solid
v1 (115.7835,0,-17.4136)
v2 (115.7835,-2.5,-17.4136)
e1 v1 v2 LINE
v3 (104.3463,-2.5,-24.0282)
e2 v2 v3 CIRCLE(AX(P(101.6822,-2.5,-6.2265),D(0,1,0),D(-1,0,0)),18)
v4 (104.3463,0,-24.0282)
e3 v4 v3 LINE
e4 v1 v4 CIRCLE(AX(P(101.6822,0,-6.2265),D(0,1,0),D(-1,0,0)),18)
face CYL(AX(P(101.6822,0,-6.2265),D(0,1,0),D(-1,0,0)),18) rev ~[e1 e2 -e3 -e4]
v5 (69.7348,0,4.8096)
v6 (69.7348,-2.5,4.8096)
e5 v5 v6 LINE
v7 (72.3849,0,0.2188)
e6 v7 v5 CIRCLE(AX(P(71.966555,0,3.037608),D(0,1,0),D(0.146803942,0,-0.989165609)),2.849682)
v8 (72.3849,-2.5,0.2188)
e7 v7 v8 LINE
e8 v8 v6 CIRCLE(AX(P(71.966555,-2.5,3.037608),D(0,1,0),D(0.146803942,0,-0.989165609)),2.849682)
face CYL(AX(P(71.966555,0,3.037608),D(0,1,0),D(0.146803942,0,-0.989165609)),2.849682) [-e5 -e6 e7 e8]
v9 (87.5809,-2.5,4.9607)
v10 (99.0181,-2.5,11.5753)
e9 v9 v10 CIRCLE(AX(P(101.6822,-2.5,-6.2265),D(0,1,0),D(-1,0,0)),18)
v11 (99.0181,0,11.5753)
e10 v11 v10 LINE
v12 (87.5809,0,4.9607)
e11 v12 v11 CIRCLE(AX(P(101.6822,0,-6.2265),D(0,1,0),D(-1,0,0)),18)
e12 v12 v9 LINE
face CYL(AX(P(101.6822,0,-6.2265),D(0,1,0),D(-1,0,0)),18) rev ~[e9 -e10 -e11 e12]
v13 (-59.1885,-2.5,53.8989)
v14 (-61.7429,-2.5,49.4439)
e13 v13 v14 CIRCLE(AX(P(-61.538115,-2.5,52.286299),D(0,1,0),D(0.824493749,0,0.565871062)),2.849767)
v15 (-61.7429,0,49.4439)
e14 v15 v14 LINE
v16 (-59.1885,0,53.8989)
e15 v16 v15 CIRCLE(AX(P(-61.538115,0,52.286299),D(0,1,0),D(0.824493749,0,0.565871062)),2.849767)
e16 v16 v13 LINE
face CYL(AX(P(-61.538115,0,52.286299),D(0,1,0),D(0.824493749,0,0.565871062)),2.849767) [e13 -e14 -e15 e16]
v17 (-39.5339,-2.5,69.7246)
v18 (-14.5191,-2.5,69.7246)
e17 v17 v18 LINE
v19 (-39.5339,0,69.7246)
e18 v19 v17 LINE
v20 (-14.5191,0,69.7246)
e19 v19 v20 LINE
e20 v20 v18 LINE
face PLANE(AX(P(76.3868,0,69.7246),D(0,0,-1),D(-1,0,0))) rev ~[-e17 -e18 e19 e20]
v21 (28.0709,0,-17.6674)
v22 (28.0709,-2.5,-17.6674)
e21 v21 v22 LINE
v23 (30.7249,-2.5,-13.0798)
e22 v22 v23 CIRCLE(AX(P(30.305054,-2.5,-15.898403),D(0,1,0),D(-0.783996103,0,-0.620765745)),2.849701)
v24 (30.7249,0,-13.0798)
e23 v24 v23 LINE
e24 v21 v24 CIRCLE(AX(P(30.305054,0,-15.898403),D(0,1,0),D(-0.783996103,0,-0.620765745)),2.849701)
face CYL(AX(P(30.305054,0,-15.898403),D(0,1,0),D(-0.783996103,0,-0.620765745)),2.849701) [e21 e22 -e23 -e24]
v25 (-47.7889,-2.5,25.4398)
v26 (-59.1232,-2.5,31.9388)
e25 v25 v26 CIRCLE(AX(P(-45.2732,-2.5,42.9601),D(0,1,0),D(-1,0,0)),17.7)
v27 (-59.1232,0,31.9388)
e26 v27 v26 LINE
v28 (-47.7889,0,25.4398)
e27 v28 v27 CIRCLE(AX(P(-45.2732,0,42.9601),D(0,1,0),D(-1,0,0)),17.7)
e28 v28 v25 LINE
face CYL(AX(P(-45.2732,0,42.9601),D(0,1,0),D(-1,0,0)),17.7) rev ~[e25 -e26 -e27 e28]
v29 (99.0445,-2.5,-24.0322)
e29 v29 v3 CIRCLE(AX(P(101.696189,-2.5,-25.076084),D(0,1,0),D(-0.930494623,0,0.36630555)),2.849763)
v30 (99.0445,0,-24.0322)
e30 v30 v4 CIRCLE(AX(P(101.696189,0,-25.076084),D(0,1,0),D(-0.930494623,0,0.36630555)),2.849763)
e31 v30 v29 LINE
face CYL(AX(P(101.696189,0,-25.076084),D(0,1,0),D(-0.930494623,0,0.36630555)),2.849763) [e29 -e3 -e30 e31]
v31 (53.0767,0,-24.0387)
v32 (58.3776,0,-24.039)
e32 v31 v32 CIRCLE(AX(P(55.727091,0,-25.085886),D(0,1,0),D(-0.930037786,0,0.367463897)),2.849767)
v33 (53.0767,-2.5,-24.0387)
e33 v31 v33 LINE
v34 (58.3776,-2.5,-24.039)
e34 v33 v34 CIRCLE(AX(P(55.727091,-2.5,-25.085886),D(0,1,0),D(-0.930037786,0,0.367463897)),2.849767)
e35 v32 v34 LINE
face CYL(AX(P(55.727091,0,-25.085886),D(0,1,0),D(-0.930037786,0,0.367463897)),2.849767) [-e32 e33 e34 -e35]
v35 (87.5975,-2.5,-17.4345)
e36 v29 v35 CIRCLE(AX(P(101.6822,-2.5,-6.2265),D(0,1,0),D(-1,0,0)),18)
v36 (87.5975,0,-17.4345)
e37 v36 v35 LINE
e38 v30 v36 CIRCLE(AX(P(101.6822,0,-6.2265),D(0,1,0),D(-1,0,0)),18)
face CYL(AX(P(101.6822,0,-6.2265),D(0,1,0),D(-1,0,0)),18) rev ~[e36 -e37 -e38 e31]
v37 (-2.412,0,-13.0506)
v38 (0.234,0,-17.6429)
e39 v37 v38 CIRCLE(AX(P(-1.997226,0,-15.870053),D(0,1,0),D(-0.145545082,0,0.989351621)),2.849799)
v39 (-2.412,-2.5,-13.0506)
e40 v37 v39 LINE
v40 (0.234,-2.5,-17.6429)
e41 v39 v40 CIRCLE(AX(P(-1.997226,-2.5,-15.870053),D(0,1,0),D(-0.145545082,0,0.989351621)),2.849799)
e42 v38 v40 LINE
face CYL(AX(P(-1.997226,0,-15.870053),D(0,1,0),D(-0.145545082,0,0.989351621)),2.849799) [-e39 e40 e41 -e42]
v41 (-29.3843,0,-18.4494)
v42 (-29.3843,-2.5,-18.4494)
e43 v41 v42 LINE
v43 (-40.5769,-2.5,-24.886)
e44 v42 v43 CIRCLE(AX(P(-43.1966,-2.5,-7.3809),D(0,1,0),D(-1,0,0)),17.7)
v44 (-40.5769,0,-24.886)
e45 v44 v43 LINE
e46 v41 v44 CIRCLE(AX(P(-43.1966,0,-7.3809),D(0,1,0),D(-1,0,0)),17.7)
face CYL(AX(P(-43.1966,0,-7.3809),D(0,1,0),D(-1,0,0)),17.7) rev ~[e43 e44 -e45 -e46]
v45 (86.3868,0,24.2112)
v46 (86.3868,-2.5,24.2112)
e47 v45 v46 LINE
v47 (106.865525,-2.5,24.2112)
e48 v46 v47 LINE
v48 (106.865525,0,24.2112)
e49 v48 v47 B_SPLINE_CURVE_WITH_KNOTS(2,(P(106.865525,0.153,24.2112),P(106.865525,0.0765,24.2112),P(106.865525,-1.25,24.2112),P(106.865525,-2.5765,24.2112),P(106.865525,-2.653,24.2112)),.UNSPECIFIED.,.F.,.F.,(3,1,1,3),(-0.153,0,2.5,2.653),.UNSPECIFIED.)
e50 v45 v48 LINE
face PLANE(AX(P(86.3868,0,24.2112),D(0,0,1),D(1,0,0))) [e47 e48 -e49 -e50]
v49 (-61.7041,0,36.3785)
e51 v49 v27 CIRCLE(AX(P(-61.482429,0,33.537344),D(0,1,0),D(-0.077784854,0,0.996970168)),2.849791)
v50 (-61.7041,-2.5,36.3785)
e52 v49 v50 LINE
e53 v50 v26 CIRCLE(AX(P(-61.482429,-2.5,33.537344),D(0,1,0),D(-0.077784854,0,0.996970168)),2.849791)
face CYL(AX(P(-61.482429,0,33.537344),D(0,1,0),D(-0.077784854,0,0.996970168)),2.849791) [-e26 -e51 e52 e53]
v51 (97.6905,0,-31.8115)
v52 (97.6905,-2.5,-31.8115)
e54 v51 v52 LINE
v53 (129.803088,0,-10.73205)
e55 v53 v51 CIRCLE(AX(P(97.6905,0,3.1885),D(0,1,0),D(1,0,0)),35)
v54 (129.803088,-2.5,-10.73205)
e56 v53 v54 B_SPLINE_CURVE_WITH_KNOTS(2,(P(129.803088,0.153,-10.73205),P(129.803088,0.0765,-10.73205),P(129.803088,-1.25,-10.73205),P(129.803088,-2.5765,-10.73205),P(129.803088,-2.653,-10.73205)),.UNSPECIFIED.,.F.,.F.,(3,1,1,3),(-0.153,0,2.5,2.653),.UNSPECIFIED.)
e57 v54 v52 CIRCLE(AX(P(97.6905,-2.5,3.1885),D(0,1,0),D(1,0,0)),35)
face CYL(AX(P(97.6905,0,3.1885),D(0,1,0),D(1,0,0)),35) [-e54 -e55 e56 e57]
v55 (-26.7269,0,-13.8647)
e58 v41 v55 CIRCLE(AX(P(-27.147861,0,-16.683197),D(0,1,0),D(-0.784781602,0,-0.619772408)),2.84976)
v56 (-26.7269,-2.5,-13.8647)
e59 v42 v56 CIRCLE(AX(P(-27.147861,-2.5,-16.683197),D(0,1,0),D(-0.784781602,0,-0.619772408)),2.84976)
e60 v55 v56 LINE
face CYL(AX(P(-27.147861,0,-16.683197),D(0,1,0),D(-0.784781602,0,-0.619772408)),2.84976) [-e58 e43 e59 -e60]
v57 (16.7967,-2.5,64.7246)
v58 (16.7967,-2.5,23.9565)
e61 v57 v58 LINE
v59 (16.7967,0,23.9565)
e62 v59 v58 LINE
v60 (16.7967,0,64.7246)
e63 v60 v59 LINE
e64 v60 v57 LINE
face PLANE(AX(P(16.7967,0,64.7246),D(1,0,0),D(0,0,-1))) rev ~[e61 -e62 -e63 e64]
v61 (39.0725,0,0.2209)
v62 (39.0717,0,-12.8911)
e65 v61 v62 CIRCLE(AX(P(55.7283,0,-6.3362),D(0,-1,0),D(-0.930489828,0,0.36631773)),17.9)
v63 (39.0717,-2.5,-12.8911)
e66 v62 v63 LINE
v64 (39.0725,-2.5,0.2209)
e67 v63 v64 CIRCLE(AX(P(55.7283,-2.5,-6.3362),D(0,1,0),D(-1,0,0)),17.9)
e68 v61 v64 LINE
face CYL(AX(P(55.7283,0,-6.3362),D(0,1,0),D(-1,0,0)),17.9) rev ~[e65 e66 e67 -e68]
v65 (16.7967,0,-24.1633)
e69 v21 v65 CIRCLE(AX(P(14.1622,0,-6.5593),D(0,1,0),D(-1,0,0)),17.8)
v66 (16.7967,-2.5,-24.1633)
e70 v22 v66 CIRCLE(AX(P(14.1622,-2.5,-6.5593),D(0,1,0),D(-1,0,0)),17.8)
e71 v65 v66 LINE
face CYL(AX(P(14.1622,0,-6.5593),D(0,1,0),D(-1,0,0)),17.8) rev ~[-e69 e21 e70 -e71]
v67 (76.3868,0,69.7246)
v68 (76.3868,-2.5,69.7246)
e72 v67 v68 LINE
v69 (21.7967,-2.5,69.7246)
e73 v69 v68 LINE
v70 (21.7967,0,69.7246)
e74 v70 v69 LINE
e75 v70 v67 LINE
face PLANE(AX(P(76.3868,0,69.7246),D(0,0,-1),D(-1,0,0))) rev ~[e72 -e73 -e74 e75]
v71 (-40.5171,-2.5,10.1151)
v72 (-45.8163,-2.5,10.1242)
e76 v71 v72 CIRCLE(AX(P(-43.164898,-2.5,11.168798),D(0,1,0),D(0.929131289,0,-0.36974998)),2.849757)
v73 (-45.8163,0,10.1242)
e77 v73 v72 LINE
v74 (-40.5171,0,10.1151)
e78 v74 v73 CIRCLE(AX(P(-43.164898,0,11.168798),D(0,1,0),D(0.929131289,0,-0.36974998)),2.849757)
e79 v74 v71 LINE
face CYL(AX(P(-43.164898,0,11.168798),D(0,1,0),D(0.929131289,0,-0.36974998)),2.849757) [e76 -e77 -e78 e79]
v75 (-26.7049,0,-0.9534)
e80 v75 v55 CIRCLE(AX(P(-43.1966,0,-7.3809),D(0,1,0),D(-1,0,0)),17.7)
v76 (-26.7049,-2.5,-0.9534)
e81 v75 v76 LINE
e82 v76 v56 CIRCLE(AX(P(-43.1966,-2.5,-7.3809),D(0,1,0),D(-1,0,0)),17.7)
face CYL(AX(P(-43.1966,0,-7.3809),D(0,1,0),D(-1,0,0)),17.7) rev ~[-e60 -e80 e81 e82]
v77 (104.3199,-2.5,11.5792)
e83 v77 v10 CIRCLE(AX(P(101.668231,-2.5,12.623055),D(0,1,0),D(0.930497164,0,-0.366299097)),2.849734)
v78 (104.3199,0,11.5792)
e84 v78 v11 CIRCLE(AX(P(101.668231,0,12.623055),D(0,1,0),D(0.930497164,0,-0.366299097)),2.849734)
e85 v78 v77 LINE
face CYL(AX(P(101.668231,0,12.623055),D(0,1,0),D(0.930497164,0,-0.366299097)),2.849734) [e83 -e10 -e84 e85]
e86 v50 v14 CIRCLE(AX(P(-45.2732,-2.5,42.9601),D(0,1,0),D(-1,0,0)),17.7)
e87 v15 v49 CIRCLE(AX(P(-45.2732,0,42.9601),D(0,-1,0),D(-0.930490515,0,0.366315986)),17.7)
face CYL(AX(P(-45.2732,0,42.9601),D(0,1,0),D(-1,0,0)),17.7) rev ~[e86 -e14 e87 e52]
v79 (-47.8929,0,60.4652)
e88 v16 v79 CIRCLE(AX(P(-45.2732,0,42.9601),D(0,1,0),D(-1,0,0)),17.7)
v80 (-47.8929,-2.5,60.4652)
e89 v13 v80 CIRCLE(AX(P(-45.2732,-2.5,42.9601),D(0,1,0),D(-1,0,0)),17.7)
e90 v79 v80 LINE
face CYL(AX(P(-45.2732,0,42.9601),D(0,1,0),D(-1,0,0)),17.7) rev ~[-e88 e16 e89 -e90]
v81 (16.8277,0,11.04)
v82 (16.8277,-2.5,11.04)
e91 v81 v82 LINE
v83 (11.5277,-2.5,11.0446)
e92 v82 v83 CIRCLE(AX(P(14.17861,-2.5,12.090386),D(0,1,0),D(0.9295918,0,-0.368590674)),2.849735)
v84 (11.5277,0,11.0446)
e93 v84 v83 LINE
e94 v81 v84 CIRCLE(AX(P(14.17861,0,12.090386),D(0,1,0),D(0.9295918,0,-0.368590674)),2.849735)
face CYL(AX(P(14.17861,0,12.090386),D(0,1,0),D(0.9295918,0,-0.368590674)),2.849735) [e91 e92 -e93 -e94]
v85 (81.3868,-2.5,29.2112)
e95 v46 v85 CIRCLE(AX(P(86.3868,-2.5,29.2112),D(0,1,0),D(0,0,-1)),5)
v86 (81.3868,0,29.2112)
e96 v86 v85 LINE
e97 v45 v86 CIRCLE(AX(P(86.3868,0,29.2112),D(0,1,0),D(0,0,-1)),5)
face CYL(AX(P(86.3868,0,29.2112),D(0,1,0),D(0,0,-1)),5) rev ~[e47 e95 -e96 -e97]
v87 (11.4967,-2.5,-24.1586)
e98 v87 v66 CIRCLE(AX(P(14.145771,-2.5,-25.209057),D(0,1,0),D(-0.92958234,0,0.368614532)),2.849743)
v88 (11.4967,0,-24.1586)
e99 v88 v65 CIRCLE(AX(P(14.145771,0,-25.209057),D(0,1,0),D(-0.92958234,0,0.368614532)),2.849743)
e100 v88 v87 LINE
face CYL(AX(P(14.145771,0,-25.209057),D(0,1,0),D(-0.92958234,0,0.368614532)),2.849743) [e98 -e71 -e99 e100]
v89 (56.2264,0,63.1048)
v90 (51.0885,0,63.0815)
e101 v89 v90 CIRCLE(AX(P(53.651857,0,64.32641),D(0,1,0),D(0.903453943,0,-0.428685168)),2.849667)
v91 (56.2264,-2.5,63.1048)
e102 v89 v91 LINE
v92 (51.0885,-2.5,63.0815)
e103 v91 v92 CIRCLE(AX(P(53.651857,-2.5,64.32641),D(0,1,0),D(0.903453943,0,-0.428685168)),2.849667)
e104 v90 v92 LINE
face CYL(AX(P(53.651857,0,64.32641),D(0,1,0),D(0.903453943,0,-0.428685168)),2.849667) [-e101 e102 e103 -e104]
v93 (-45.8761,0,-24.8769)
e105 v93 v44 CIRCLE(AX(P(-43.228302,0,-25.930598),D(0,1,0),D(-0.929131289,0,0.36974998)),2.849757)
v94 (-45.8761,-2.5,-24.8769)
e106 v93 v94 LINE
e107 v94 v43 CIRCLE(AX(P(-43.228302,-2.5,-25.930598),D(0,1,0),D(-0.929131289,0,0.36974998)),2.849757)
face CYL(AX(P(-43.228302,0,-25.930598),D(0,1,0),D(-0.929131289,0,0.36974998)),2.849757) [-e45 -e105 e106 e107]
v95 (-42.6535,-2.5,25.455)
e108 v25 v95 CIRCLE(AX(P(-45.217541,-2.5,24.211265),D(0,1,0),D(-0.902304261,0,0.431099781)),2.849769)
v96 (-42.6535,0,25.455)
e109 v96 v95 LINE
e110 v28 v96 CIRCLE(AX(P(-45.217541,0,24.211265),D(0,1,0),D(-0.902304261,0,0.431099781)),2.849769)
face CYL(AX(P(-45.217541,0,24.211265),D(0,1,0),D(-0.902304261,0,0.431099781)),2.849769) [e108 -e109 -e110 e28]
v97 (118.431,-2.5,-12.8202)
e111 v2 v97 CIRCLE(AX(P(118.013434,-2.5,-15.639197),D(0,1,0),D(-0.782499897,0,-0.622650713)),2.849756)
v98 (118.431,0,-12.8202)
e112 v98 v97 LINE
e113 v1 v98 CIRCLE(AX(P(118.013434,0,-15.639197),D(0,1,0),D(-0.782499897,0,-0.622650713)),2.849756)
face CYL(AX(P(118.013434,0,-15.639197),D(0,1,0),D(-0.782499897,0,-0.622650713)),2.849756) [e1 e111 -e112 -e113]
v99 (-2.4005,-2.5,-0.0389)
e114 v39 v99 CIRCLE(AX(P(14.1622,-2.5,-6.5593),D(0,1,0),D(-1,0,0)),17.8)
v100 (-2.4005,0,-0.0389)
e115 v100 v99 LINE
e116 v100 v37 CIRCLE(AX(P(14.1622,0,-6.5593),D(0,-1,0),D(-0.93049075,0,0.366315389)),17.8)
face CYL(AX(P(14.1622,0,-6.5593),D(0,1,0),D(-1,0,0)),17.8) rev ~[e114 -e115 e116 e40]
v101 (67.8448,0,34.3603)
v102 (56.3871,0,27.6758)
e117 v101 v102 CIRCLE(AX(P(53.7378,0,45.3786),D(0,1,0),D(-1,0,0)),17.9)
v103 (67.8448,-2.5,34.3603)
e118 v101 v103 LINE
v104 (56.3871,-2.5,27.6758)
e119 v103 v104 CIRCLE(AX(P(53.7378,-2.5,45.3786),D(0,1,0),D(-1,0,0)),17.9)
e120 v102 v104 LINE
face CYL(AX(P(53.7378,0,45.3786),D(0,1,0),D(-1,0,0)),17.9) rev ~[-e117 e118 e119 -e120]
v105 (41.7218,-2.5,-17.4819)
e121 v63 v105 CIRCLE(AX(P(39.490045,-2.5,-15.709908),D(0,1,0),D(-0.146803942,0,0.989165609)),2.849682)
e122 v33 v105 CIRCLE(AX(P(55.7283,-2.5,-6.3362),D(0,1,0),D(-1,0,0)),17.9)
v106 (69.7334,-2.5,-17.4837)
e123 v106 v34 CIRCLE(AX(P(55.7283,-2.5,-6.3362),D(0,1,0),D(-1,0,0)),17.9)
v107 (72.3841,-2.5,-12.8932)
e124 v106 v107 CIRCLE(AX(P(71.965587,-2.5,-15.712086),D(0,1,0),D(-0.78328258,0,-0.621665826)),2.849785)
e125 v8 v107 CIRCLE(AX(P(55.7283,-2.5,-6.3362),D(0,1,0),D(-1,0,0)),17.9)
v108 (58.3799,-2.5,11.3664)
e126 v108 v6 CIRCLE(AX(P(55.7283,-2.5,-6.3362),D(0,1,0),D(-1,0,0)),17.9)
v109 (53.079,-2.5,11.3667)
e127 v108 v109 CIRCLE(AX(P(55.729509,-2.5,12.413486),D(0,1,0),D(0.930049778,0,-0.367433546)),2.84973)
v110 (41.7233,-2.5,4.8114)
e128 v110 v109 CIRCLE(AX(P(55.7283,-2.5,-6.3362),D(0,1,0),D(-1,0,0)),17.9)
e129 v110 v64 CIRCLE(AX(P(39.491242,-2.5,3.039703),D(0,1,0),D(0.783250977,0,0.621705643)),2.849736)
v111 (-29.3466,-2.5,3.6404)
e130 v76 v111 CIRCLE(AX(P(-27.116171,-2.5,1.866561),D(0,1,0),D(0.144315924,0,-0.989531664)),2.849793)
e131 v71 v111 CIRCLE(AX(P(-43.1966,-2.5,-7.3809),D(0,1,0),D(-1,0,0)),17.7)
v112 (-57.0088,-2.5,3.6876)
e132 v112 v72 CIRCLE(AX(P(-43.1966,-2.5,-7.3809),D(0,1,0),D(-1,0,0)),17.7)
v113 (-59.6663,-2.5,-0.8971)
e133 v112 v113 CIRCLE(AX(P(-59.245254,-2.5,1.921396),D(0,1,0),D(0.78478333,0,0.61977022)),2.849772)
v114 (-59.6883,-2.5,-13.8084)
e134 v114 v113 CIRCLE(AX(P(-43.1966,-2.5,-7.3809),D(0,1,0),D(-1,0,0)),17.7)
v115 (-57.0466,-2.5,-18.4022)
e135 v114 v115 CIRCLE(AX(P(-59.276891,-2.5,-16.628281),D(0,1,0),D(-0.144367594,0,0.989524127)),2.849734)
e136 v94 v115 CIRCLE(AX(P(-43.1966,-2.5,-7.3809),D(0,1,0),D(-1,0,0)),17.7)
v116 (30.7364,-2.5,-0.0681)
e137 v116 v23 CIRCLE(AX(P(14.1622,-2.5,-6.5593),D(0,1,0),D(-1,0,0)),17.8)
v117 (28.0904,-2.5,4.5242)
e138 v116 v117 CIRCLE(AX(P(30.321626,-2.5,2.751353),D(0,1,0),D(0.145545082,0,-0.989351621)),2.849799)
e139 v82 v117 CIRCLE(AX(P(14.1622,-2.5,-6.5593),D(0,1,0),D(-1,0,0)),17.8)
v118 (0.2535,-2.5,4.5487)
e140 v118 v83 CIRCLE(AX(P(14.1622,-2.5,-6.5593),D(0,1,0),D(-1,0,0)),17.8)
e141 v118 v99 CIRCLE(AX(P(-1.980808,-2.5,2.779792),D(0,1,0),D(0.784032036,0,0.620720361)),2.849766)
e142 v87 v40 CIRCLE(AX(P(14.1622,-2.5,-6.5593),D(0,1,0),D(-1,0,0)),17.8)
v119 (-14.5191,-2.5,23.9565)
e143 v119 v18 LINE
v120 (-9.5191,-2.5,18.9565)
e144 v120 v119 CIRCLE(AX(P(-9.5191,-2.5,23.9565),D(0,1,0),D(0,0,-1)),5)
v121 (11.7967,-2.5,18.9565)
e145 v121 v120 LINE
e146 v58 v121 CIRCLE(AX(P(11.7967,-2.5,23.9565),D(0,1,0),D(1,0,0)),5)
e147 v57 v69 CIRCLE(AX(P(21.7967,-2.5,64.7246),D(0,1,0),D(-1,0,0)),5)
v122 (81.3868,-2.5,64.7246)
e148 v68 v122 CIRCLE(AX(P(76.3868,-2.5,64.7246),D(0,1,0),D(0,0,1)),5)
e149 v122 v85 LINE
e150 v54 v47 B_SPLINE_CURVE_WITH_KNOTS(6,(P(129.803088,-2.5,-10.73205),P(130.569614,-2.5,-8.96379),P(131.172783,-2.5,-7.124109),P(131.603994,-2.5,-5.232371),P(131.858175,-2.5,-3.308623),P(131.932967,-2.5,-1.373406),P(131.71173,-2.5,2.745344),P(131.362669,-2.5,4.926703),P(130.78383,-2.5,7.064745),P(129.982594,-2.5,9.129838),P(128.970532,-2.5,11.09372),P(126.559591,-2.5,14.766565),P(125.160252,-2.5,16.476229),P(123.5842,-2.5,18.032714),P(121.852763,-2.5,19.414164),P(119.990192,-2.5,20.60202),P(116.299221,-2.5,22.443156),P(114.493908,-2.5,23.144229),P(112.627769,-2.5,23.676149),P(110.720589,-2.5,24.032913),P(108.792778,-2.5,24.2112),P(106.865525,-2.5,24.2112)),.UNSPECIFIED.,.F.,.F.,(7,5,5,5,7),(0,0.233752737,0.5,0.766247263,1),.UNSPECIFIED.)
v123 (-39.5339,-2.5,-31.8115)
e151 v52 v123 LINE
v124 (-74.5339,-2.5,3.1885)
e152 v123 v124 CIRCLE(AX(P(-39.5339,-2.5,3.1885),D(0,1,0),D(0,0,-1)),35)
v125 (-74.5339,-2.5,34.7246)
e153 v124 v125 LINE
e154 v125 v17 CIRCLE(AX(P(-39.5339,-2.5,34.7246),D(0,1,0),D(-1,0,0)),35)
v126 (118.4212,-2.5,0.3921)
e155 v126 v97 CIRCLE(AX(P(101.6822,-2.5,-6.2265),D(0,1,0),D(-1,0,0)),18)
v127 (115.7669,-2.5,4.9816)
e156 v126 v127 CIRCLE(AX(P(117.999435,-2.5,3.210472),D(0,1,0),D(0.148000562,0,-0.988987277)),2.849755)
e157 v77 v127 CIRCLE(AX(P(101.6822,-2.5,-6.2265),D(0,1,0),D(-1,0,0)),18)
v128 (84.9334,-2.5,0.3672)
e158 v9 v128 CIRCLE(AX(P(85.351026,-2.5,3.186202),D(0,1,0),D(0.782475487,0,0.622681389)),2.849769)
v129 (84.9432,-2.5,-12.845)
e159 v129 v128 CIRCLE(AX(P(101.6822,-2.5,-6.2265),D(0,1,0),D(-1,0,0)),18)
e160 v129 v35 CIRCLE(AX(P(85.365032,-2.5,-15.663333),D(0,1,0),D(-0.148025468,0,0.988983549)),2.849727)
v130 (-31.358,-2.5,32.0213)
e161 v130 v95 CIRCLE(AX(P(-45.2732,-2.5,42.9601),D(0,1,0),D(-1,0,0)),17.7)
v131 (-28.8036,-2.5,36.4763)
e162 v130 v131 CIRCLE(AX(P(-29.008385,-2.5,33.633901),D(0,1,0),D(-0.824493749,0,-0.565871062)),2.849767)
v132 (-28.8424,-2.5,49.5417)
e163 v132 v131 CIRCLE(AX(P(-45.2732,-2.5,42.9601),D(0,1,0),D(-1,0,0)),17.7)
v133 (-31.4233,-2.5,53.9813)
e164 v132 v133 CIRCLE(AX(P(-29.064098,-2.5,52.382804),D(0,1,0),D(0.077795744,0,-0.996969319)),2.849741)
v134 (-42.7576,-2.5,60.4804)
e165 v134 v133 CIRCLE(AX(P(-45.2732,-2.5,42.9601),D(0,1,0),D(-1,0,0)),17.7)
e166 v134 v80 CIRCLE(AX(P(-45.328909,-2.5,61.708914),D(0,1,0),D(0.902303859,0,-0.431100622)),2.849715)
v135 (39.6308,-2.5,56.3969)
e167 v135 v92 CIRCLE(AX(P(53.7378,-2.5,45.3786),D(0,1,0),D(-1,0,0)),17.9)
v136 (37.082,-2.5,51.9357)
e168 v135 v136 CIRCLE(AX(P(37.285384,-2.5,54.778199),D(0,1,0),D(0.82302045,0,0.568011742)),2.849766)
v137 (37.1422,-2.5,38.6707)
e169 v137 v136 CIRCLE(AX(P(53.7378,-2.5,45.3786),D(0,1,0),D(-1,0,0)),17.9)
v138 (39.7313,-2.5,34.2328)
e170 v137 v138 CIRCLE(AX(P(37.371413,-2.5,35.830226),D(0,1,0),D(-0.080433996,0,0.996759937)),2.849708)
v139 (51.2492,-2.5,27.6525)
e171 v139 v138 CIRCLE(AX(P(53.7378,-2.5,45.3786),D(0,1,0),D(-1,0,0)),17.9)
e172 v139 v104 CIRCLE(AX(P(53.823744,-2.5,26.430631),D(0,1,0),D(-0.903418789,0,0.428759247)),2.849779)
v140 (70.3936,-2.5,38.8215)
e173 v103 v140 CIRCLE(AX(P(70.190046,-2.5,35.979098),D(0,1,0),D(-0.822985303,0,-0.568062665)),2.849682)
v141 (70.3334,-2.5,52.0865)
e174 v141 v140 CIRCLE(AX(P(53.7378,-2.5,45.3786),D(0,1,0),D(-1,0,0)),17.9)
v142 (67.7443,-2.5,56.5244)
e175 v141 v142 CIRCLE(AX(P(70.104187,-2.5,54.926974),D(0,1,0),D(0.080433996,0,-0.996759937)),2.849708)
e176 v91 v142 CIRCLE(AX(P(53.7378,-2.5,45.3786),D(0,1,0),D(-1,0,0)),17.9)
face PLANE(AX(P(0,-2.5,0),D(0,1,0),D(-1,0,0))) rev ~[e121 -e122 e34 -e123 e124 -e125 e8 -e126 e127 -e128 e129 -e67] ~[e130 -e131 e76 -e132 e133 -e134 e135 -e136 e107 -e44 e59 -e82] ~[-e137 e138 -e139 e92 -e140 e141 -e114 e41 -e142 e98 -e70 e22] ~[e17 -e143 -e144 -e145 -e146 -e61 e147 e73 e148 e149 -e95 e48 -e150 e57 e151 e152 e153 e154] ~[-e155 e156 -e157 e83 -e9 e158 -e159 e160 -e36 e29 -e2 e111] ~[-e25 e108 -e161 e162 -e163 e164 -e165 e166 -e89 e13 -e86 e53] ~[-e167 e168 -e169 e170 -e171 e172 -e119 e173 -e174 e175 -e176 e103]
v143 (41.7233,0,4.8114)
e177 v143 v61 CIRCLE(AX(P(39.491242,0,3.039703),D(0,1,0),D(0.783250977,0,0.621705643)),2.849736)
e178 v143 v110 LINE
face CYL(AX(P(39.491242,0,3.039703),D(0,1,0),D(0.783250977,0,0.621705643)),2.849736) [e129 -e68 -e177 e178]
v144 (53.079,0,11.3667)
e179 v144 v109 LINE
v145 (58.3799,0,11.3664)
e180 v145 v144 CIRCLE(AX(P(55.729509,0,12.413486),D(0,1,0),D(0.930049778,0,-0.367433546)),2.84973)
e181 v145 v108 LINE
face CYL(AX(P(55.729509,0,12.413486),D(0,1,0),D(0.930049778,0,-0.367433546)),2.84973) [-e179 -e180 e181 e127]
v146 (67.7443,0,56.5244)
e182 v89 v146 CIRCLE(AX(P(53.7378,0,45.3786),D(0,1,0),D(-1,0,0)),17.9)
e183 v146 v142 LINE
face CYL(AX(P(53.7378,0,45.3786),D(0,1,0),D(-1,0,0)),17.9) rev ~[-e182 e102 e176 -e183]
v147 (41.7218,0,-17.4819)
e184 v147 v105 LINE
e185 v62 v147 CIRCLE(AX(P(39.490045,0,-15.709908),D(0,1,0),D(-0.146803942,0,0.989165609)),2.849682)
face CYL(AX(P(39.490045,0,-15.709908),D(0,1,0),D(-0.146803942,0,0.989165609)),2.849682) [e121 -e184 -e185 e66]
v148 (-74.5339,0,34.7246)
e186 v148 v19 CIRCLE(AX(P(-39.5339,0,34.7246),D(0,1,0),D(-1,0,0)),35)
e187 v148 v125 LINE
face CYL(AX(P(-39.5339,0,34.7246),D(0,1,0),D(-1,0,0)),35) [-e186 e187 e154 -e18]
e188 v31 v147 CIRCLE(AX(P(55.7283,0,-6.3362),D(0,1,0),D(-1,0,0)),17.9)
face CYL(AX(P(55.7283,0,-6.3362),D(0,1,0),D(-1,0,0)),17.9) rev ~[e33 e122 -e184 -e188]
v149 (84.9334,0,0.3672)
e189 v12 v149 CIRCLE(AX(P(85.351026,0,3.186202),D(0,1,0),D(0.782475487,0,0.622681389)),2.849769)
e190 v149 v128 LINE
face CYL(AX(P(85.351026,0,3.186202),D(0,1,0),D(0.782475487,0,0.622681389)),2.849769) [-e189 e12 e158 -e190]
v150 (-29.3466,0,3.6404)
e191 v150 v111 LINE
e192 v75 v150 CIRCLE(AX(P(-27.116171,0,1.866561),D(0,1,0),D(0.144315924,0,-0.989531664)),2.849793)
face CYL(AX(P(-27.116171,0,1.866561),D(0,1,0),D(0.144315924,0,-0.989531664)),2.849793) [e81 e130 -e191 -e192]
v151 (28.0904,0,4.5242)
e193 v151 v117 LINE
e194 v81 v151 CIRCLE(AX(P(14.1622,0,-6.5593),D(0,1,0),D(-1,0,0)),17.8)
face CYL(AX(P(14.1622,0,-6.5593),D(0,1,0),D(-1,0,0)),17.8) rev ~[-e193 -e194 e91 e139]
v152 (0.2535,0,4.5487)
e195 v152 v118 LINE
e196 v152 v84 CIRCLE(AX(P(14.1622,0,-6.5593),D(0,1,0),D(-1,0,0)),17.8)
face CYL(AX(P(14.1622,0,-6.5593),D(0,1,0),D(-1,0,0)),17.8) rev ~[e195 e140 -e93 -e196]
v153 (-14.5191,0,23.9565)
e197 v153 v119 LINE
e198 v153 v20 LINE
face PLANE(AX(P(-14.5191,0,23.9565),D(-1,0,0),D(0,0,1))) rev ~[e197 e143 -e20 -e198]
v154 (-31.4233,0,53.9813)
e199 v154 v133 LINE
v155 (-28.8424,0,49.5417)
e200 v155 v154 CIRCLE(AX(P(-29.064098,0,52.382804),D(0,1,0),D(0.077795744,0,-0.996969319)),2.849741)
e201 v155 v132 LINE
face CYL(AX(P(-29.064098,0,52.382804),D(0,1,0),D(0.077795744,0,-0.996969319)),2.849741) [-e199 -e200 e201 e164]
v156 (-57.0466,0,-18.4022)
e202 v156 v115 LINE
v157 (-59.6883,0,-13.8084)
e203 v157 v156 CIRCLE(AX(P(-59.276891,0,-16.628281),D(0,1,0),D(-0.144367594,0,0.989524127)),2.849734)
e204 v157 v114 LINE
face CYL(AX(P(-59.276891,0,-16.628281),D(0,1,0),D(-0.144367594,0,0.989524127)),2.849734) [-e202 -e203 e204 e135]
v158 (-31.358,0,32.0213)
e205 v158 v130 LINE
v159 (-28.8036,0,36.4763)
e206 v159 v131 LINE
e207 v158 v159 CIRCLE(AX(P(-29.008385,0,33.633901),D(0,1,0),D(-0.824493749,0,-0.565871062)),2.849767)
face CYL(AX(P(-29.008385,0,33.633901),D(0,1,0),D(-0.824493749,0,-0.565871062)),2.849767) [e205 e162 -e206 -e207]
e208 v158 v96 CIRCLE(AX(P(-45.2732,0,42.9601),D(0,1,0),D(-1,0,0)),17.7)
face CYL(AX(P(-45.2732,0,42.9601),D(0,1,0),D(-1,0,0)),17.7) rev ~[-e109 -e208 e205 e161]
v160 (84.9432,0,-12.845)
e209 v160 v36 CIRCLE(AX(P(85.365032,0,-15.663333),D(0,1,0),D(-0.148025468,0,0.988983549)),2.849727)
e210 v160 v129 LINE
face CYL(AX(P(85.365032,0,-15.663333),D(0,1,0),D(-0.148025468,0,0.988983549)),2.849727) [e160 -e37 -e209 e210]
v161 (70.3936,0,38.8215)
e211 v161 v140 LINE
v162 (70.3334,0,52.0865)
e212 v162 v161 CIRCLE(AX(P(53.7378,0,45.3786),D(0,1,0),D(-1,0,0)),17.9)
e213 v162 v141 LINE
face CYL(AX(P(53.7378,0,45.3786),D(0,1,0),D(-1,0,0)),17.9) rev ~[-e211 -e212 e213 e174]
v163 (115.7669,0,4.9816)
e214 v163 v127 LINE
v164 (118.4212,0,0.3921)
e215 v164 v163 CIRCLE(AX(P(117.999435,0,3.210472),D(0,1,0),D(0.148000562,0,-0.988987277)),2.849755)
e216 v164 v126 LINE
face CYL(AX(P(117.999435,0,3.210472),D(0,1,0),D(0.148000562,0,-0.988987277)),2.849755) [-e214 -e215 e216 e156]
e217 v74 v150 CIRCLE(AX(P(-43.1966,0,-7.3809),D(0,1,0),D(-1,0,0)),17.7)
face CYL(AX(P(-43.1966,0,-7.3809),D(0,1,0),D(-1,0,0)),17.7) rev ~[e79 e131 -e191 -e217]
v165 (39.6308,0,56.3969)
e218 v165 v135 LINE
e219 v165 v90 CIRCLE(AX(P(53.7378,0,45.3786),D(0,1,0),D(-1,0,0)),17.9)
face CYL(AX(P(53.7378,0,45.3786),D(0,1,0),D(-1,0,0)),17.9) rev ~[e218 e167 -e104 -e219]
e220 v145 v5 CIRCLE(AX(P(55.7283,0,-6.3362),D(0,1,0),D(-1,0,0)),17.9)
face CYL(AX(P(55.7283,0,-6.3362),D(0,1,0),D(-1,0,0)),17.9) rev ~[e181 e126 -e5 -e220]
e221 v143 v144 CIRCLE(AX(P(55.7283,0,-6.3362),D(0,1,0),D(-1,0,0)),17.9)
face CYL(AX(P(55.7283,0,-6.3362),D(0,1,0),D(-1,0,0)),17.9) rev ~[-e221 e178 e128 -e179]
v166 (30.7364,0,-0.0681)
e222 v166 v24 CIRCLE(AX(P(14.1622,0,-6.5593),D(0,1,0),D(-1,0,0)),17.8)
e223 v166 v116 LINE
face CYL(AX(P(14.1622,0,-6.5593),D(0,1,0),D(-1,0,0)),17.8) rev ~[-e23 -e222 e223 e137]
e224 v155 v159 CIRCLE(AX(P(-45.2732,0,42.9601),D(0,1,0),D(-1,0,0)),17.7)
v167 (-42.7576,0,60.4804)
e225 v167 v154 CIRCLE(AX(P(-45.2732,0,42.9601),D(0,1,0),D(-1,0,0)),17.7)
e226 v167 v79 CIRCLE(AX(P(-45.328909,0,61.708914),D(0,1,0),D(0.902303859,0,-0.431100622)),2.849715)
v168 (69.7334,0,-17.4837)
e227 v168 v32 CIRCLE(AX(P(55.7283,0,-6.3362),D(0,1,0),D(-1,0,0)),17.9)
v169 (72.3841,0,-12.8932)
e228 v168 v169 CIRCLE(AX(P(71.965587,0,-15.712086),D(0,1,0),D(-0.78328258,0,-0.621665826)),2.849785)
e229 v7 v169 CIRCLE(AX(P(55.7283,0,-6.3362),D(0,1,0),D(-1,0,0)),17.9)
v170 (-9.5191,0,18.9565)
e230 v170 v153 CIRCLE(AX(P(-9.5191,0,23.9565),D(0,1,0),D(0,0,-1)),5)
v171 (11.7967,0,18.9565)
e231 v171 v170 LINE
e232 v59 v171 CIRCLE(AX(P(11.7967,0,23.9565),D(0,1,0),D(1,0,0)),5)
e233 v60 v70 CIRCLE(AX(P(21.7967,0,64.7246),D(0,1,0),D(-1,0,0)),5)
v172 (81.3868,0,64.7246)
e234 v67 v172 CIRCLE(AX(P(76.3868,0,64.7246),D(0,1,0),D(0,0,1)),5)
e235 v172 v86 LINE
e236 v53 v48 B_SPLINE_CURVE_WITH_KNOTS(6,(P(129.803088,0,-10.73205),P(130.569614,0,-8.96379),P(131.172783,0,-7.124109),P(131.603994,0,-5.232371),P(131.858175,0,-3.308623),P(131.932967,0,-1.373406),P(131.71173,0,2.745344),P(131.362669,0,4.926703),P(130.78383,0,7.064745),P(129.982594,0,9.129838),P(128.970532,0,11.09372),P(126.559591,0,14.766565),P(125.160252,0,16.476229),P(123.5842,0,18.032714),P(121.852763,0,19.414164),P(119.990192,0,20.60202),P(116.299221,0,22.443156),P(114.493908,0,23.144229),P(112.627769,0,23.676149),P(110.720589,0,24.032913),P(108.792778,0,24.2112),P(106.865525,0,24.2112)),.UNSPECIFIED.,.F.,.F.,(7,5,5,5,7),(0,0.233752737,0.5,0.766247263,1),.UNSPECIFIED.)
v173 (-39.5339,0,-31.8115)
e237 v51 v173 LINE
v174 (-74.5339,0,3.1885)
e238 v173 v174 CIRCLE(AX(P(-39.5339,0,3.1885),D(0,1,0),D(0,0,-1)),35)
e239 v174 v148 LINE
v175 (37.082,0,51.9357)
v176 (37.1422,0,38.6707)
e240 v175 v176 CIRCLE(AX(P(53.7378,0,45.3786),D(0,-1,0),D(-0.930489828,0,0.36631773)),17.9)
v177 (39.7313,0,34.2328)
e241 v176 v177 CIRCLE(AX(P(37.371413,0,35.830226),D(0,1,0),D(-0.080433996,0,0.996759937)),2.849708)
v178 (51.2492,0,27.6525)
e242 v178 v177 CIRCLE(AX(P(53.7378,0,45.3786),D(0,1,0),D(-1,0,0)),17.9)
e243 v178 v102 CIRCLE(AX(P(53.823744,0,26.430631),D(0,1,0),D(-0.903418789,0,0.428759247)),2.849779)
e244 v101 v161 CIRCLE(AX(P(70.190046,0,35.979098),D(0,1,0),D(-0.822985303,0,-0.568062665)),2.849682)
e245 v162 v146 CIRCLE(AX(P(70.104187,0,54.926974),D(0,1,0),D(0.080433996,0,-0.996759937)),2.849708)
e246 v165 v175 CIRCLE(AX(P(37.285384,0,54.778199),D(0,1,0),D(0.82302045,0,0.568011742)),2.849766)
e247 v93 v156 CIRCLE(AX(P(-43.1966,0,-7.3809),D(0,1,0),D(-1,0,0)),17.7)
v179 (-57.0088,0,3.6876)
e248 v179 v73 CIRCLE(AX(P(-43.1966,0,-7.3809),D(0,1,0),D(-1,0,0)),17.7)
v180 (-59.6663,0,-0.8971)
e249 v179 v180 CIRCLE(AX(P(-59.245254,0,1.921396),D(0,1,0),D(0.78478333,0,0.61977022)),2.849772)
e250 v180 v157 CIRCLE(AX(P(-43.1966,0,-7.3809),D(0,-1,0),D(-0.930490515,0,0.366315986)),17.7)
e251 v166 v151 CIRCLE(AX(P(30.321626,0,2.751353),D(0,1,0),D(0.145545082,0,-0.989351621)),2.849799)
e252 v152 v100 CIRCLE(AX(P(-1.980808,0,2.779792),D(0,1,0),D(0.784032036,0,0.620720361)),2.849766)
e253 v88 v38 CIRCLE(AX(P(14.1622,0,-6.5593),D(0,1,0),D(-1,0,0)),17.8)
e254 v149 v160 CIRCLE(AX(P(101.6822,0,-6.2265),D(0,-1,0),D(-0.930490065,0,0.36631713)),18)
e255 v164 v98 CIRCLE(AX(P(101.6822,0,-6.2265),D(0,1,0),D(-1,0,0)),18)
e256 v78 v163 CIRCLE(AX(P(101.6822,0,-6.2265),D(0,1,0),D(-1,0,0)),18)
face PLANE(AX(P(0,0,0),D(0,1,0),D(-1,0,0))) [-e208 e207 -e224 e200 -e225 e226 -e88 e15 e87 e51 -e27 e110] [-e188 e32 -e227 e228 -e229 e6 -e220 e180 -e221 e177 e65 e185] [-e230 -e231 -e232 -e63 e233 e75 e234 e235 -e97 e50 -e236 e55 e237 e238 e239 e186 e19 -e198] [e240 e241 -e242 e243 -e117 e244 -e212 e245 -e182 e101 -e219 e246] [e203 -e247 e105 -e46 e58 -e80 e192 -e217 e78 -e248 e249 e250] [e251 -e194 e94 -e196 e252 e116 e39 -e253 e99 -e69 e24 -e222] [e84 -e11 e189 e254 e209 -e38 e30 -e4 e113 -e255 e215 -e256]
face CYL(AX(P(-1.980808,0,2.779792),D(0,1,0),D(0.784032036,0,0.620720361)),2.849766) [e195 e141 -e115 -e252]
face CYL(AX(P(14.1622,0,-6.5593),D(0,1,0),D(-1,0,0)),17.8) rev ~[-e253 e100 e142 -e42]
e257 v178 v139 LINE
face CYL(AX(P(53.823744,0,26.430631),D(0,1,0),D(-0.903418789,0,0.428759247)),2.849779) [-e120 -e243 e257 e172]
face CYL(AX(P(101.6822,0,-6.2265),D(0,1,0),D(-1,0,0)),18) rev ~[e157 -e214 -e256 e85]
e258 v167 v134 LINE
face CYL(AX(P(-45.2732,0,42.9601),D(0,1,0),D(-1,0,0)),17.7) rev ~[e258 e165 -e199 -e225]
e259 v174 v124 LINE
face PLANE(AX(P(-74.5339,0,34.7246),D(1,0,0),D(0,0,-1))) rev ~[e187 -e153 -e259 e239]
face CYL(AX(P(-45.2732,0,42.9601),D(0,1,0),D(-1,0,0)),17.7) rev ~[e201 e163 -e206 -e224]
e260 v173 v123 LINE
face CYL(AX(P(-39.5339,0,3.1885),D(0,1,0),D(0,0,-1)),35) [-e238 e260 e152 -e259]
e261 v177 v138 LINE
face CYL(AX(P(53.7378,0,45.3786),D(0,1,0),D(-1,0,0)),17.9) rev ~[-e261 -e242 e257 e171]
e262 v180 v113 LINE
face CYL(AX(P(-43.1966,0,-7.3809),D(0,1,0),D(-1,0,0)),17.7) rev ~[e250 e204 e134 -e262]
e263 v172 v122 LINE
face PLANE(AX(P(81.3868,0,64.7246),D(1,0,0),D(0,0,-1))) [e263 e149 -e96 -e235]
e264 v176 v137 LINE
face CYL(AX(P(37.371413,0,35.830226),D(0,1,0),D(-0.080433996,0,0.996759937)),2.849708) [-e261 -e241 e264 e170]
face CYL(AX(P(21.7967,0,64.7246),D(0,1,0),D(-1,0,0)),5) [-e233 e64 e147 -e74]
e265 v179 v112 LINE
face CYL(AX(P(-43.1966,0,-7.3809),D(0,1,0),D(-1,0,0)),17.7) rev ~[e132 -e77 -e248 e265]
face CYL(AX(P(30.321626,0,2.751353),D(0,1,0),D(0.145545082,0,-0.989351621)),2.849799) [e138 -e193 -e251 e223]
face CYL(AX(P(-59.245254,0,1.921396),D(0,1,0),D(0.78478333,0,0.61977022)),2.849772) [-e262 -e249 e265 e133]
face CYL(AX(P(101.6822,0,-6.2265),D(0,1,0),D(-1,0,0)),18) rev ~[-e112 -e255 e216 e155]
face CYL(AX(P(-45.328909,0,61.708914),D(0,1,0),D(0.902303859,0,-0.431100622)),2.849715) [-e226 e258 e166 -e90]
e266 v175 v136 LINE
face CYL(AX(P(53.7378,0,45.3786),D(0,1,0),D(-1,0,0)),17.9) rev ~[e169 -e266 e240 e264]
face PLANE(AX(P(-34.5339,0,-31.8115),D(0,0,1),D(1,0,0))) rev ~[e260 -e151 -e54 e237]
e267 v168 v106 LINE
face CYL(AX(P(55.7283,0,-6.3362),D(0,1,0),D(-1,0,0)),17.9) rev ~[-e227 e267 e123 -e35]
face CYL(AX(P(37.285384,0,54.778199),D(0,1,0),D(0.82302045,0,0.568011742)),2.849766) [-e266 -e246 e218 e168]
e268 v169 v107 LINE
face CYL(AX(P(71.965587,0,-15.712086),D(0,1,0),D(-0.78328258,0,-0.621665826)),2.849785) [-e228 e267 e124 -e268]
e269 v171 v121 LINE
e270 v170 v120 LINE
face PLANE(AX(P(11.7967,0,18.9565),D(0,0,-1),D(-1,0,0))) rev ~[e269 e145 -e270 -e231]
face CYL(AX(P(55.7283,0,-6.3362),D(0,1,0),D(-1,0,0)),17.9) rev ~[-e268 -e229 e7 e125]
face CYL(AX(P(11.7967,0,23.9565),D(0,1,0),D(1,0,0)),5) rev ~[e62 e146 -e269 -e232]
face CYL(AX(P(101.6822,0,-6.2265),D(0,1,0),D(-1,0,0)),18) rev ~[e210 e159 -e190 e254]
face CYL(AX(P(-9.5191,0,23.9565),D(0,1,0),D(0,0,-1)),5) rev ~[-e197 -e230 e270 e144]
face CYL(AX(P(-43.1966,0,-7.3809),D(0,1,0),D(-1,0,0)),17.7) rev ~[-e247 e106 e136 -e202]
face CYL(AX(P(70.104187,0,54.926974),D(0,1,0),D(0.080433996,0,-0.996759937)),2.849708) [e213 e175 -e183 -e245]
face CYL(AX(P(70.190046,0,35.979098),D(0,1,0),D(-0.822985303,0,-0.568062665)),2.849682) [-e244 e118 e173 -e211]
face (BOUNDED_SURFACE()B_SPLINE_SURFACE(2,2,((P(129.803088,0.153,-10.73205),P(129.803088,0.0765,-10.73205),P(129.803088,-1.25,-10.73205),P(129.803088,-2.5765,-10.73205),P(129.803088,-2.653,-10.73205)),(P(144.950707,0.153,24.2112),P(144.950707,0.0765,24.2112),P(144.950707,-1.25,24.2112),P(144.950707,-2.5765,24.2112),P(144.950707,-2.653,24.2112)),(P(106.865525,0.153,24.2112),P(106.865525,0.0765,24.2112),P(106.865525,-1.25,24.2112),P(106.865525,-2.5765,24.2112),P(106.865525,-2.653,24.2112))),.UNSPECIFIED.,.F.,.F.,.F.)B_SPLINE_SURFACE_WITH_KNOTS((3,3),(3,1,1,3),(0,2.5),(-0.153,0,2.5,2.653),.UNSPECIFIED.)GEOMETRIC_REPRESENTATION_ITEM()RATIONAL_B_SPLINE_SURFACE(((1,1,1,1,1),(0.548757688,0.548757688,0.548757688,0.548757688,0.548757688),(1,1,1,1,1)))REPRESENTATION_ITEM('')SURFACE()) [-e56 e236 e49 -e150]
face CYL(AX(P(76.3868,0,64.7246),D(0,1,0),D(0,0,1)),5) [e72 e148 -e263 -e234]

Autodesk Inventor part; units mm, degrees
ref_plane "YZ Plane" through (0, 0, 0) normal (1, 0, 0) x (0, 1, 0)
ref_plane "XZ Plane" through (0, 0, 0) normal (0, 1, 0) x (-1, 0, 0)
ref_plane "XY Plane" through (0, 0, 0) normal (0, 0, 1) x (1, 0, 0)
sketch "BASEsc" plane through (0, 0, 0) normal (0, 1, 0) x (-1, 0, 0)
  arc A0 (-30.7364, -0.0681) -> (-28.0904, 4.5242) centre (-30.3216, 2.7513) ccw
  arc A1 (-16.8277, 11.04) -> (-11.5277, 11.0446) centre (-14.1786, 12.0904) ccw
  arc A2 (-11.4967, -24.1586) -> (-16.7967, -24.1633) centre (-14.1458, -25.2091) ccw
  arc A3 (-0.2535, 4.5487) -> (2.4005, -0.0389) centre (1.9807, 2.7798) ccw
  arc A4 (-28.0709, -17.6674) -> (-30.7249, -13.0798) centre (-30.3051, -15.8984) ccw
  circle A5 centre (-14.1622, -6.5593) radius 17.8
  arc A6 (2.412, -13.0506) -> (-0.234, -17.6429) centre (1.9972, -15.87) ccw
  circle A7 centre (-55.7283, -6.3362) radius 17.9
  arc A8 (-58.3938, 11.2631) -> (-53.0938, 11.2678) centre (-55.7447, 12.3136) ccw
  arc A9 (-41.8196, 4.7719) -> (-39.1656, 0.1843) centre (-39.5854, 3.0029) ccw
  arc A10 (-72.3025, 0.1551) -> (-69.6565, 4.7474) centre (-71.8877, 2.9745) ccw
  arc A11 (-69.637, -17.4442) -> (-72.291, -12.8566) centre (-71.8712, -15.6753) ccw
  arc A12 (-53.0767, -24.0387) -> (-58.3776, -24.039) centre (-55.7271, -25.0859) ccw
  arc A13 (-39.1541, -12.8274) -> (-41.8001, -17.4197) centre (-39.569, -15.6468) ccw
  circle A14 centre (-101.6822, -6.2265) radius 18
  arc A15 (-99.0445, -24.0322) -> (-104.3463, -24.0282) centre (-101.6962, -25.0761) ccw
  arc A16 (-39.0717, -12.8911) -> (-41.7218, -17.4819) centre (-39.49, -15.71) ccw
  arc A17 (-41.7233, 4.8114) -> (-39.0725, 0.2209) centre (-39.4912, 3.0397) ccw
  arc A18 (-58.3799, 11.3664) -> (-53.079, 11.3667) centre (-55.7295, 12.4135) ccw
  arc A19 (-72.3849, 0.2188) -> (-69.7348, 4.8096) centre (-71.9666, 3.0377) ccw
  arc A20 (-69.7334, -17.4837) -> (-72.3841, -12.8932) centre (-71.9654, -15.7121) ccw
  circle A21 centre (43.1966, -7.3809) radius 17.7
  arc A22 (45.8761, -24.8769) -> (40.5769, -24.886) centre (43.2283, -25.9306) ccw
  circle A23 centre (45.2732, 42.9601) radius 17.7
  arc A24 (47.7889, 25.4398) -> (42.6535, 25.455) centre (45.2175, 24.2112) ccw
  arc A25 (-51.2492, 27.6525) -> (-56.3871, 27.6758) centre (-53.8237, 26.4307) ccw
  circle A26 centre (-53.7378, 45.3786) radius 17.9
  arc A27 (-84.9432, -12.845) -> (-87.5975, -17.4345) centre (-85.365, -15.6634) ccw
  arc A28 (-87.5809, 4.9607) -> (-84.9334, 0.3672) centre (-85.351, 3.1862) ccw
  arc A29 (-104.3199, 11.5792) -> (-99.0181, 11.5753) centre (-101.6682, 12.6231) ccw
  arc A30 (-118.4212, 0.3921) -> (-115.7669, 4.9816) centre (-117.9994, 3.2104) ccw
  arc A31 (-115.7835, -17.4136) -> (-118.431, -12.8202) centre (-118.0134, -15.6392) ccw
  arc A32 (-37.1422, 38.6707) -> (-39.7313, 34.2328) centre (-37.3714, 35.8302) ccw
  arc A33 (-39.6308, 56.3969) -> (-37.082, 51.9357) centre (-37.2854, 54.7782) ccw
  arc A34 (-56.2264, 63.1048) -> (-51.0885, 63.0815) centre (-53.6518, 64.3265) ccw
  arc A35 (-70.3334, 52.0865) -> (-67.7443, 56.5244) centre (-70.1042, 54.927) ccw
  arc A36 (-67.8448, 34.3603) -> (-70.3936, 38.8215) centre (-70.1901, 35.9791) ccw
  arc A37 (61.7041, 36.3785) -> (59.1232, 31.9388) centre (61.4824, 33.5374) ccw
  arc A38 (59.1885, 53.8989) -> (61.7429, 49.4439) centre (61.5381, 52.2863) ccw
  arc A39 (42.7576, 60.4804) -> (47.8929, 60.4652) centre (45.3289, 61.7089) ccw
  arc A40 (28.8424, 49.5417) -> (31.4233, 53.9813) centre (29.0641, 52.3828) ccw
  arc A41 (31.358, 32.0213) -> (28.8036, 36.4763) centre (29.0084, 33.6339) ccw
  arc A42 (59.6883, -13.8084) -> (57.0466, -18.4022) centre (59.2769, -16.6283) ccw
  arc A43 (57.0088, 3.6876) -> (59.6663, -0.8971) centre (59.2452, 1.9214) ccw
  arc A44 (40.5171, 10.1151) -> (45.8163, 10.1242) centre (43.1649, 11.1688) ccw
  arc A45 (26.7049, -0.9534) -> (29.3466, 3.6404) centre (27.1162, 1.8665) ccw
  arc A46 (29.3843, -18.4494) -> (26.7269, -13.8647) centre (27.1479, -16.6832) ccw
  line L0 (39.5339, -31.8115) -> (-97.6905, -31.8115)
  line L1 (-132.6905, 3.1885) -> (-132.6905, 34.7246)
  line L2 (-76.3868, 69.7246) -> (-21.7967, 69.7246)
  line L3 (74.5339, 34.7246) -> (74.5339, 3.1885)
  arc A47 (34.5339, -31.8115) -> (74.5339, 8.1885) centre (34.5339, 8.1885) ccw
  arc A48 (74.5339, 34.7246) -> (39.5339, 69.7246) centre (39.5339, 34.7246) ccw
  arc A49 (39.5339, -31.8115) -> (74.5339, 3.1885) centre (39.5339, 3.1885) ccw
  arc A50 (-132.6905, 3.1885) -> (-97.6905, -31.8115) centre (-97.6905, 3.1885) ccw
  arc A51 (-97.6905, 69.7246) -> (-132.6905, 34.7246) centre (-97.6905, 34.7246) ccw
  line L4 (-86.3868, 24.2112) -> (-132.6905, 24.2112)
  line L5 (-132.6905, 24.2112) -> (-132.6905, 69.7246)
  line L6 (-132.6905, 69.7246) -> (-81.3868, 69.7246)
  line L7 (-81.3868, 64.7246) -> (-81.3868, 29.2112)
  line L8 (14.5191, 69.7246) -> (-16.7967, 69.7246)
  line L9 (-16.7967, 64.7246) -> (-16.7967, 23.9565)
  line L10 (-11.7967, 18.9565) -> (9.5191, 18.9565)
  line L11 (14.5191, 23.9565) -> (14.5191, 69.7246)
  arc A52 (9.5191, 18.9565) -> (14.5191, 23.9565) centre (9.5191, 23.9565) ccw
  arc A53 (-16.7967, 23.9565) -> (-11.7967, 18.9565) centre (-11.7967, 23.9565) ccw
  arc A54 (-86.3868, 24.2112) -> (-81.3868, 29.2112) centre (-86.3868, 29.2112) ccw
  arc A55 (-76.3868, 69.7246) -> (-81.3868, 64.7246) centre (-76.3868, 64.7246) ccw
  arc A56 (-16.7967, 64.7246) -> (-21.7967, 69.7246) centre (-21.7967, 64.7246) ccw
  line L12 (39.5339, 69.7246) -> (-21.7967, 69.7246)
  point P0 (0, 0)
  point P1 (-14.1467, -24.3593)
  point P2 (-27.8531, 1.3272)
  point P3 (-14.1777, 9.2407)
  point P4 (-14.1467, -22.3593)
  point P5 (-0.4868, 1.3541)
  point P6 (-27.8376, -14.4728)
  point P7 (-0.4712, -14.4459)
  point P8 (-41.5661, 0.2232)
  point P9 (-55.7127, -24.2361)
  point P10 (-55.7438, 9.4638)
  point P11 (-42.0529, 1.5773)
  point P12 (-69.4193, 1.5504)
  point P13 (-69.4038, -14.2496)
  point P14 (-55.7127, -22.2361)
  point P15 (-42.0374, -14.2227)
  point P16 (-87.52, 0.3329)
  point P17 (-101.6665, -24.2265)
  point P18 (-101.6977, 9.5735)
  point P19 (-88.0068, 1.6869)
  point P20 (-115.3732, 1.6601)
  point P21 (-115.3576, -14.1399)
  point P22 (-101.6665, -22.2265)
  point P23 (-87.9913, -14.1131)
  point P24 (-41.9507, -14.2726)
  point P25 (-41.9663, 1.6273)
  point P26 (-55.7439, 9.5638)
  point P27 (-69.5059, 1.6003)
  point P28 (-69.4903, -14.2997)
  point P29 (57.3588, -0.8216)
  point P30 (29.5211, -15.2943)
  point P31 (56.872, 0.5325)
  point P32 (43.212, -25.0809)
  point P33 (29.5056, 0.5057)
  point P34 (43.1811, 8.4191)
  point P35 (56.8875, -15.2675)
  point P36 (43.212, -23.0809)
  point P37 (59.4354, 49.5194)
  point P38 (31.5978, 35.0467)
  point P39 (58.9487, 50.8735)
  point P40 (45.2887, 25.2601)
  point P41 (31.5823, 50.8467)
  point P42 (45.2577, 58.7601)
  point P43 (58.9642, 35.0735)
  point P44 (45.2887, 27.0601)
  point P45 (-40.0468, 37.492)
  point P46 (-39.5756, 51.9379)
  point P47 (-40.0623, 53.292)
  point P48 (-53.7222, 29.2786)
  point P49 (-53.7222, 27.4786)
  point P50 (-53.7533, 61.1786)
  point P51 (-67.4287, 53.2652)
  point P52 (-67.4132, 37.4652)
  point P53 (-87.818, -14.2129)
  point P54 (-87.8336, 1.7871)
  point P55 (-101.6979, 9.7735)
  point P56 (-115.5464, 1.7599)
  point P57 (-115.5308, -14.2401)
  point P58 (-39.787, 37.3421)
  point P59 (-39.8026, 53.4421)
  point P60 (-53.7534, 61.4786)
  point P61 (-67.6886, 53.4151)
  point P62 (-67.673, 37.3151)
  point P63 (59.0507, 35.0234)
  point P64 (59.0353, 50.9234)
  point P65 (45.2578, 58.8601)
  point P66 (31.4957, 50.8967)
  point P67 (31.5111, 34.9967)
  point P68 (56.8009, -15.2175)
  point P69 (56.7855, 0.4824)
  point P70 (43.1812, 8.3191)
  point P71 (29.5923, 0.4557)
  point P72 (29.6077, -15.2442)
  point P73 (-97.6905, 69.7246)
  point P74 (-16.7967, 69.7246)
  point P75 (-67.8448, 34.3603)
  point P76 (-39.7313, 34.2328)
  point P77 (-37.1422, 38.6707)
  point P78 (-37.082, 51.9357)
  point P79 (-51.0885, 63.0815)
  point P80 (-67.7443, 56.5244)
  point P81 (-70.3334, 52.0865)
  point P82 (-118.431, -12.8202)
  point P83 (-115.7835, -17.4136)
  point P84 (-87.5975, -17.4345)
  point P85 (-84.9334, 0.3672)
  point P86 (-87.5809, 4.9607)
  point P87 (-104.3199, 11.5792)
  point P88 (-115.7669, 4.9816)
  point P89 (-118.4212, 0.3921)
  point P90 (-72.3841, -12.8932)
  point P91 (-39.0725, 0.2209)
  point P92 (-41.7233, 4.8114)
  point P93 (-53.079, 11.3667)
  point P94 (-58.3799, 11.3664)
  point P95 (-69.7348, 4.8096)
  point P96 (-72.3849, 0.2188)
  point P97 (-0.234, -17.6429)
  point P98 (2.412, -13.0506)
  point P99 (2.4005, -0.0389)
  point P100 (-0.2535, 4.5487)
  point P101 (-11.5277, 11.0446)
  point P102 (-16.8277, 11.04)
  point P103 (-28.0904, 4.5242)
  point P104 (-30.7364, -0.0681)
  point P105 (-28.0709, -17.6674)
  point P106 (29.3843, -18.4494)
  point P107 (59.6883, -13.8084)
  point P108 (59.6663, -0.8971)
  point P109 (57.0088, 3.6876)
  point P110 (40.5171, 10.1151)
  point P111 (29.3466, 3.6404)
  point P112 (26.7049, -0.9534)
  point P113 (47.8929, 60.4652)
  point P114 (31.4233, 53.9813)
  point P115 (28.8424, 49.5417)
  dimension "d0" = 35.6
  dimension "d1" = 2
  dimension "d2" = 35.8
  dimension "d3" = 2
  dimension "d4" = 36
  dimension "d5" = 2
  dimension "d8" = 360
  dimension "d10" = 35.4
  dimension "d11" = 2
  dimension "d12" = 35.4
  dimension "d13" = 1.8
  dimension "d14" = 35.8
  dimension "d15" = 1.8
  dimension "d18" = 360
  dimension "d22" = 360
  dimension "d26" = 360
  dimension "d30" = 360
  dimension "d32" = 40
  dimension "d33" = 35
  dimension "d34" = 35
  dimension "d35" = 35
  dimension "d36" = 5
extrude "押し出し1" add sketch "BASEsc" against normal blind 2.5 contours A5 A0 | A0 A5 A1 A3 A6 A2 A4 | A4 A5 | A5 A1 | A2 A5 | A5 A3 | A6 A5 | A7 A16 A12 A20 A19 A18 A17 | A17 A7 | A7 A16 | A18 A7 | A7 A12 | A19 A7 | A7 A20 | A14 A27 A15 A31 A30 A29 A28 | A28 A14 | A14 A27 | A29 A14 | A14 A15 | A30 A14 | A14 A31 | A21 A42 A22 A46 A45 A44 A43 | A43 A21 | A21 A42 | A44 A21 | A21 A22 | A45 A21 | A21 A46 | A23 A37 A24 A41 A40 A39 A38 | A38 A23 | A23 A37 | A39 A23 | A23 A24 | A40 A23 | A23 A41 | A26 A25 | A25 A26 A36 A35 A34 A33 A32 | A32 A26 | A26 A36 | A26 A35 | A33 A26 | A26 A34 | L5 L6 A51 | L0 A47 L3 A49 | L0 A50 L1 L4 A54 L7 A55 L2 A56 L9 A53 L10 A52 L11 L12 A48 L3 A47 | L11 A52 L10 A53 L9 A56 L12 L8
extrude "押し出し2" cut sketch "BASEsc" against normal through all contours A0 A5 A1 A3 A6 A2 A4 | A7 A16 A12 A20 A19 A18 A17 | A14 A27 A15 A31 A30 A29 A28 | A21 A42 A22 A46 A45 A44 A43 | A23 A37 A24 A41 A40 A39 A38 | A25 A26 A36 A35 A34 A33 A32
extrude "押し出し3" cut sketch "BASEsc" against normal blind 10 contours L5 L6 A51 | L11 A52 L10 A53 L9 A56 L12 L8
fillet "フィレット1" radius 25 1 edges at (132.6905, -1.25, 24.2112)
equation "\"BendRadius\" = Thickness"
equation "\"BendReliefWidth\" = Thickness"
equation "\"BendReliefDepth\" = 0.5 * Thickness"
equation "\"CornerReliefSize\" = 4 * Thickness"
equation "\"MinimumRemnant\" = 2 * Thickness"
equation "\"TransitionRadius\" = BendRadius"
equation "\"JacobiRadiusSize\" = BendRadius"
equation "\"GapSize\" = Thickness"
equation "\"Thickness\" = 0.5"
properties part number "template"
